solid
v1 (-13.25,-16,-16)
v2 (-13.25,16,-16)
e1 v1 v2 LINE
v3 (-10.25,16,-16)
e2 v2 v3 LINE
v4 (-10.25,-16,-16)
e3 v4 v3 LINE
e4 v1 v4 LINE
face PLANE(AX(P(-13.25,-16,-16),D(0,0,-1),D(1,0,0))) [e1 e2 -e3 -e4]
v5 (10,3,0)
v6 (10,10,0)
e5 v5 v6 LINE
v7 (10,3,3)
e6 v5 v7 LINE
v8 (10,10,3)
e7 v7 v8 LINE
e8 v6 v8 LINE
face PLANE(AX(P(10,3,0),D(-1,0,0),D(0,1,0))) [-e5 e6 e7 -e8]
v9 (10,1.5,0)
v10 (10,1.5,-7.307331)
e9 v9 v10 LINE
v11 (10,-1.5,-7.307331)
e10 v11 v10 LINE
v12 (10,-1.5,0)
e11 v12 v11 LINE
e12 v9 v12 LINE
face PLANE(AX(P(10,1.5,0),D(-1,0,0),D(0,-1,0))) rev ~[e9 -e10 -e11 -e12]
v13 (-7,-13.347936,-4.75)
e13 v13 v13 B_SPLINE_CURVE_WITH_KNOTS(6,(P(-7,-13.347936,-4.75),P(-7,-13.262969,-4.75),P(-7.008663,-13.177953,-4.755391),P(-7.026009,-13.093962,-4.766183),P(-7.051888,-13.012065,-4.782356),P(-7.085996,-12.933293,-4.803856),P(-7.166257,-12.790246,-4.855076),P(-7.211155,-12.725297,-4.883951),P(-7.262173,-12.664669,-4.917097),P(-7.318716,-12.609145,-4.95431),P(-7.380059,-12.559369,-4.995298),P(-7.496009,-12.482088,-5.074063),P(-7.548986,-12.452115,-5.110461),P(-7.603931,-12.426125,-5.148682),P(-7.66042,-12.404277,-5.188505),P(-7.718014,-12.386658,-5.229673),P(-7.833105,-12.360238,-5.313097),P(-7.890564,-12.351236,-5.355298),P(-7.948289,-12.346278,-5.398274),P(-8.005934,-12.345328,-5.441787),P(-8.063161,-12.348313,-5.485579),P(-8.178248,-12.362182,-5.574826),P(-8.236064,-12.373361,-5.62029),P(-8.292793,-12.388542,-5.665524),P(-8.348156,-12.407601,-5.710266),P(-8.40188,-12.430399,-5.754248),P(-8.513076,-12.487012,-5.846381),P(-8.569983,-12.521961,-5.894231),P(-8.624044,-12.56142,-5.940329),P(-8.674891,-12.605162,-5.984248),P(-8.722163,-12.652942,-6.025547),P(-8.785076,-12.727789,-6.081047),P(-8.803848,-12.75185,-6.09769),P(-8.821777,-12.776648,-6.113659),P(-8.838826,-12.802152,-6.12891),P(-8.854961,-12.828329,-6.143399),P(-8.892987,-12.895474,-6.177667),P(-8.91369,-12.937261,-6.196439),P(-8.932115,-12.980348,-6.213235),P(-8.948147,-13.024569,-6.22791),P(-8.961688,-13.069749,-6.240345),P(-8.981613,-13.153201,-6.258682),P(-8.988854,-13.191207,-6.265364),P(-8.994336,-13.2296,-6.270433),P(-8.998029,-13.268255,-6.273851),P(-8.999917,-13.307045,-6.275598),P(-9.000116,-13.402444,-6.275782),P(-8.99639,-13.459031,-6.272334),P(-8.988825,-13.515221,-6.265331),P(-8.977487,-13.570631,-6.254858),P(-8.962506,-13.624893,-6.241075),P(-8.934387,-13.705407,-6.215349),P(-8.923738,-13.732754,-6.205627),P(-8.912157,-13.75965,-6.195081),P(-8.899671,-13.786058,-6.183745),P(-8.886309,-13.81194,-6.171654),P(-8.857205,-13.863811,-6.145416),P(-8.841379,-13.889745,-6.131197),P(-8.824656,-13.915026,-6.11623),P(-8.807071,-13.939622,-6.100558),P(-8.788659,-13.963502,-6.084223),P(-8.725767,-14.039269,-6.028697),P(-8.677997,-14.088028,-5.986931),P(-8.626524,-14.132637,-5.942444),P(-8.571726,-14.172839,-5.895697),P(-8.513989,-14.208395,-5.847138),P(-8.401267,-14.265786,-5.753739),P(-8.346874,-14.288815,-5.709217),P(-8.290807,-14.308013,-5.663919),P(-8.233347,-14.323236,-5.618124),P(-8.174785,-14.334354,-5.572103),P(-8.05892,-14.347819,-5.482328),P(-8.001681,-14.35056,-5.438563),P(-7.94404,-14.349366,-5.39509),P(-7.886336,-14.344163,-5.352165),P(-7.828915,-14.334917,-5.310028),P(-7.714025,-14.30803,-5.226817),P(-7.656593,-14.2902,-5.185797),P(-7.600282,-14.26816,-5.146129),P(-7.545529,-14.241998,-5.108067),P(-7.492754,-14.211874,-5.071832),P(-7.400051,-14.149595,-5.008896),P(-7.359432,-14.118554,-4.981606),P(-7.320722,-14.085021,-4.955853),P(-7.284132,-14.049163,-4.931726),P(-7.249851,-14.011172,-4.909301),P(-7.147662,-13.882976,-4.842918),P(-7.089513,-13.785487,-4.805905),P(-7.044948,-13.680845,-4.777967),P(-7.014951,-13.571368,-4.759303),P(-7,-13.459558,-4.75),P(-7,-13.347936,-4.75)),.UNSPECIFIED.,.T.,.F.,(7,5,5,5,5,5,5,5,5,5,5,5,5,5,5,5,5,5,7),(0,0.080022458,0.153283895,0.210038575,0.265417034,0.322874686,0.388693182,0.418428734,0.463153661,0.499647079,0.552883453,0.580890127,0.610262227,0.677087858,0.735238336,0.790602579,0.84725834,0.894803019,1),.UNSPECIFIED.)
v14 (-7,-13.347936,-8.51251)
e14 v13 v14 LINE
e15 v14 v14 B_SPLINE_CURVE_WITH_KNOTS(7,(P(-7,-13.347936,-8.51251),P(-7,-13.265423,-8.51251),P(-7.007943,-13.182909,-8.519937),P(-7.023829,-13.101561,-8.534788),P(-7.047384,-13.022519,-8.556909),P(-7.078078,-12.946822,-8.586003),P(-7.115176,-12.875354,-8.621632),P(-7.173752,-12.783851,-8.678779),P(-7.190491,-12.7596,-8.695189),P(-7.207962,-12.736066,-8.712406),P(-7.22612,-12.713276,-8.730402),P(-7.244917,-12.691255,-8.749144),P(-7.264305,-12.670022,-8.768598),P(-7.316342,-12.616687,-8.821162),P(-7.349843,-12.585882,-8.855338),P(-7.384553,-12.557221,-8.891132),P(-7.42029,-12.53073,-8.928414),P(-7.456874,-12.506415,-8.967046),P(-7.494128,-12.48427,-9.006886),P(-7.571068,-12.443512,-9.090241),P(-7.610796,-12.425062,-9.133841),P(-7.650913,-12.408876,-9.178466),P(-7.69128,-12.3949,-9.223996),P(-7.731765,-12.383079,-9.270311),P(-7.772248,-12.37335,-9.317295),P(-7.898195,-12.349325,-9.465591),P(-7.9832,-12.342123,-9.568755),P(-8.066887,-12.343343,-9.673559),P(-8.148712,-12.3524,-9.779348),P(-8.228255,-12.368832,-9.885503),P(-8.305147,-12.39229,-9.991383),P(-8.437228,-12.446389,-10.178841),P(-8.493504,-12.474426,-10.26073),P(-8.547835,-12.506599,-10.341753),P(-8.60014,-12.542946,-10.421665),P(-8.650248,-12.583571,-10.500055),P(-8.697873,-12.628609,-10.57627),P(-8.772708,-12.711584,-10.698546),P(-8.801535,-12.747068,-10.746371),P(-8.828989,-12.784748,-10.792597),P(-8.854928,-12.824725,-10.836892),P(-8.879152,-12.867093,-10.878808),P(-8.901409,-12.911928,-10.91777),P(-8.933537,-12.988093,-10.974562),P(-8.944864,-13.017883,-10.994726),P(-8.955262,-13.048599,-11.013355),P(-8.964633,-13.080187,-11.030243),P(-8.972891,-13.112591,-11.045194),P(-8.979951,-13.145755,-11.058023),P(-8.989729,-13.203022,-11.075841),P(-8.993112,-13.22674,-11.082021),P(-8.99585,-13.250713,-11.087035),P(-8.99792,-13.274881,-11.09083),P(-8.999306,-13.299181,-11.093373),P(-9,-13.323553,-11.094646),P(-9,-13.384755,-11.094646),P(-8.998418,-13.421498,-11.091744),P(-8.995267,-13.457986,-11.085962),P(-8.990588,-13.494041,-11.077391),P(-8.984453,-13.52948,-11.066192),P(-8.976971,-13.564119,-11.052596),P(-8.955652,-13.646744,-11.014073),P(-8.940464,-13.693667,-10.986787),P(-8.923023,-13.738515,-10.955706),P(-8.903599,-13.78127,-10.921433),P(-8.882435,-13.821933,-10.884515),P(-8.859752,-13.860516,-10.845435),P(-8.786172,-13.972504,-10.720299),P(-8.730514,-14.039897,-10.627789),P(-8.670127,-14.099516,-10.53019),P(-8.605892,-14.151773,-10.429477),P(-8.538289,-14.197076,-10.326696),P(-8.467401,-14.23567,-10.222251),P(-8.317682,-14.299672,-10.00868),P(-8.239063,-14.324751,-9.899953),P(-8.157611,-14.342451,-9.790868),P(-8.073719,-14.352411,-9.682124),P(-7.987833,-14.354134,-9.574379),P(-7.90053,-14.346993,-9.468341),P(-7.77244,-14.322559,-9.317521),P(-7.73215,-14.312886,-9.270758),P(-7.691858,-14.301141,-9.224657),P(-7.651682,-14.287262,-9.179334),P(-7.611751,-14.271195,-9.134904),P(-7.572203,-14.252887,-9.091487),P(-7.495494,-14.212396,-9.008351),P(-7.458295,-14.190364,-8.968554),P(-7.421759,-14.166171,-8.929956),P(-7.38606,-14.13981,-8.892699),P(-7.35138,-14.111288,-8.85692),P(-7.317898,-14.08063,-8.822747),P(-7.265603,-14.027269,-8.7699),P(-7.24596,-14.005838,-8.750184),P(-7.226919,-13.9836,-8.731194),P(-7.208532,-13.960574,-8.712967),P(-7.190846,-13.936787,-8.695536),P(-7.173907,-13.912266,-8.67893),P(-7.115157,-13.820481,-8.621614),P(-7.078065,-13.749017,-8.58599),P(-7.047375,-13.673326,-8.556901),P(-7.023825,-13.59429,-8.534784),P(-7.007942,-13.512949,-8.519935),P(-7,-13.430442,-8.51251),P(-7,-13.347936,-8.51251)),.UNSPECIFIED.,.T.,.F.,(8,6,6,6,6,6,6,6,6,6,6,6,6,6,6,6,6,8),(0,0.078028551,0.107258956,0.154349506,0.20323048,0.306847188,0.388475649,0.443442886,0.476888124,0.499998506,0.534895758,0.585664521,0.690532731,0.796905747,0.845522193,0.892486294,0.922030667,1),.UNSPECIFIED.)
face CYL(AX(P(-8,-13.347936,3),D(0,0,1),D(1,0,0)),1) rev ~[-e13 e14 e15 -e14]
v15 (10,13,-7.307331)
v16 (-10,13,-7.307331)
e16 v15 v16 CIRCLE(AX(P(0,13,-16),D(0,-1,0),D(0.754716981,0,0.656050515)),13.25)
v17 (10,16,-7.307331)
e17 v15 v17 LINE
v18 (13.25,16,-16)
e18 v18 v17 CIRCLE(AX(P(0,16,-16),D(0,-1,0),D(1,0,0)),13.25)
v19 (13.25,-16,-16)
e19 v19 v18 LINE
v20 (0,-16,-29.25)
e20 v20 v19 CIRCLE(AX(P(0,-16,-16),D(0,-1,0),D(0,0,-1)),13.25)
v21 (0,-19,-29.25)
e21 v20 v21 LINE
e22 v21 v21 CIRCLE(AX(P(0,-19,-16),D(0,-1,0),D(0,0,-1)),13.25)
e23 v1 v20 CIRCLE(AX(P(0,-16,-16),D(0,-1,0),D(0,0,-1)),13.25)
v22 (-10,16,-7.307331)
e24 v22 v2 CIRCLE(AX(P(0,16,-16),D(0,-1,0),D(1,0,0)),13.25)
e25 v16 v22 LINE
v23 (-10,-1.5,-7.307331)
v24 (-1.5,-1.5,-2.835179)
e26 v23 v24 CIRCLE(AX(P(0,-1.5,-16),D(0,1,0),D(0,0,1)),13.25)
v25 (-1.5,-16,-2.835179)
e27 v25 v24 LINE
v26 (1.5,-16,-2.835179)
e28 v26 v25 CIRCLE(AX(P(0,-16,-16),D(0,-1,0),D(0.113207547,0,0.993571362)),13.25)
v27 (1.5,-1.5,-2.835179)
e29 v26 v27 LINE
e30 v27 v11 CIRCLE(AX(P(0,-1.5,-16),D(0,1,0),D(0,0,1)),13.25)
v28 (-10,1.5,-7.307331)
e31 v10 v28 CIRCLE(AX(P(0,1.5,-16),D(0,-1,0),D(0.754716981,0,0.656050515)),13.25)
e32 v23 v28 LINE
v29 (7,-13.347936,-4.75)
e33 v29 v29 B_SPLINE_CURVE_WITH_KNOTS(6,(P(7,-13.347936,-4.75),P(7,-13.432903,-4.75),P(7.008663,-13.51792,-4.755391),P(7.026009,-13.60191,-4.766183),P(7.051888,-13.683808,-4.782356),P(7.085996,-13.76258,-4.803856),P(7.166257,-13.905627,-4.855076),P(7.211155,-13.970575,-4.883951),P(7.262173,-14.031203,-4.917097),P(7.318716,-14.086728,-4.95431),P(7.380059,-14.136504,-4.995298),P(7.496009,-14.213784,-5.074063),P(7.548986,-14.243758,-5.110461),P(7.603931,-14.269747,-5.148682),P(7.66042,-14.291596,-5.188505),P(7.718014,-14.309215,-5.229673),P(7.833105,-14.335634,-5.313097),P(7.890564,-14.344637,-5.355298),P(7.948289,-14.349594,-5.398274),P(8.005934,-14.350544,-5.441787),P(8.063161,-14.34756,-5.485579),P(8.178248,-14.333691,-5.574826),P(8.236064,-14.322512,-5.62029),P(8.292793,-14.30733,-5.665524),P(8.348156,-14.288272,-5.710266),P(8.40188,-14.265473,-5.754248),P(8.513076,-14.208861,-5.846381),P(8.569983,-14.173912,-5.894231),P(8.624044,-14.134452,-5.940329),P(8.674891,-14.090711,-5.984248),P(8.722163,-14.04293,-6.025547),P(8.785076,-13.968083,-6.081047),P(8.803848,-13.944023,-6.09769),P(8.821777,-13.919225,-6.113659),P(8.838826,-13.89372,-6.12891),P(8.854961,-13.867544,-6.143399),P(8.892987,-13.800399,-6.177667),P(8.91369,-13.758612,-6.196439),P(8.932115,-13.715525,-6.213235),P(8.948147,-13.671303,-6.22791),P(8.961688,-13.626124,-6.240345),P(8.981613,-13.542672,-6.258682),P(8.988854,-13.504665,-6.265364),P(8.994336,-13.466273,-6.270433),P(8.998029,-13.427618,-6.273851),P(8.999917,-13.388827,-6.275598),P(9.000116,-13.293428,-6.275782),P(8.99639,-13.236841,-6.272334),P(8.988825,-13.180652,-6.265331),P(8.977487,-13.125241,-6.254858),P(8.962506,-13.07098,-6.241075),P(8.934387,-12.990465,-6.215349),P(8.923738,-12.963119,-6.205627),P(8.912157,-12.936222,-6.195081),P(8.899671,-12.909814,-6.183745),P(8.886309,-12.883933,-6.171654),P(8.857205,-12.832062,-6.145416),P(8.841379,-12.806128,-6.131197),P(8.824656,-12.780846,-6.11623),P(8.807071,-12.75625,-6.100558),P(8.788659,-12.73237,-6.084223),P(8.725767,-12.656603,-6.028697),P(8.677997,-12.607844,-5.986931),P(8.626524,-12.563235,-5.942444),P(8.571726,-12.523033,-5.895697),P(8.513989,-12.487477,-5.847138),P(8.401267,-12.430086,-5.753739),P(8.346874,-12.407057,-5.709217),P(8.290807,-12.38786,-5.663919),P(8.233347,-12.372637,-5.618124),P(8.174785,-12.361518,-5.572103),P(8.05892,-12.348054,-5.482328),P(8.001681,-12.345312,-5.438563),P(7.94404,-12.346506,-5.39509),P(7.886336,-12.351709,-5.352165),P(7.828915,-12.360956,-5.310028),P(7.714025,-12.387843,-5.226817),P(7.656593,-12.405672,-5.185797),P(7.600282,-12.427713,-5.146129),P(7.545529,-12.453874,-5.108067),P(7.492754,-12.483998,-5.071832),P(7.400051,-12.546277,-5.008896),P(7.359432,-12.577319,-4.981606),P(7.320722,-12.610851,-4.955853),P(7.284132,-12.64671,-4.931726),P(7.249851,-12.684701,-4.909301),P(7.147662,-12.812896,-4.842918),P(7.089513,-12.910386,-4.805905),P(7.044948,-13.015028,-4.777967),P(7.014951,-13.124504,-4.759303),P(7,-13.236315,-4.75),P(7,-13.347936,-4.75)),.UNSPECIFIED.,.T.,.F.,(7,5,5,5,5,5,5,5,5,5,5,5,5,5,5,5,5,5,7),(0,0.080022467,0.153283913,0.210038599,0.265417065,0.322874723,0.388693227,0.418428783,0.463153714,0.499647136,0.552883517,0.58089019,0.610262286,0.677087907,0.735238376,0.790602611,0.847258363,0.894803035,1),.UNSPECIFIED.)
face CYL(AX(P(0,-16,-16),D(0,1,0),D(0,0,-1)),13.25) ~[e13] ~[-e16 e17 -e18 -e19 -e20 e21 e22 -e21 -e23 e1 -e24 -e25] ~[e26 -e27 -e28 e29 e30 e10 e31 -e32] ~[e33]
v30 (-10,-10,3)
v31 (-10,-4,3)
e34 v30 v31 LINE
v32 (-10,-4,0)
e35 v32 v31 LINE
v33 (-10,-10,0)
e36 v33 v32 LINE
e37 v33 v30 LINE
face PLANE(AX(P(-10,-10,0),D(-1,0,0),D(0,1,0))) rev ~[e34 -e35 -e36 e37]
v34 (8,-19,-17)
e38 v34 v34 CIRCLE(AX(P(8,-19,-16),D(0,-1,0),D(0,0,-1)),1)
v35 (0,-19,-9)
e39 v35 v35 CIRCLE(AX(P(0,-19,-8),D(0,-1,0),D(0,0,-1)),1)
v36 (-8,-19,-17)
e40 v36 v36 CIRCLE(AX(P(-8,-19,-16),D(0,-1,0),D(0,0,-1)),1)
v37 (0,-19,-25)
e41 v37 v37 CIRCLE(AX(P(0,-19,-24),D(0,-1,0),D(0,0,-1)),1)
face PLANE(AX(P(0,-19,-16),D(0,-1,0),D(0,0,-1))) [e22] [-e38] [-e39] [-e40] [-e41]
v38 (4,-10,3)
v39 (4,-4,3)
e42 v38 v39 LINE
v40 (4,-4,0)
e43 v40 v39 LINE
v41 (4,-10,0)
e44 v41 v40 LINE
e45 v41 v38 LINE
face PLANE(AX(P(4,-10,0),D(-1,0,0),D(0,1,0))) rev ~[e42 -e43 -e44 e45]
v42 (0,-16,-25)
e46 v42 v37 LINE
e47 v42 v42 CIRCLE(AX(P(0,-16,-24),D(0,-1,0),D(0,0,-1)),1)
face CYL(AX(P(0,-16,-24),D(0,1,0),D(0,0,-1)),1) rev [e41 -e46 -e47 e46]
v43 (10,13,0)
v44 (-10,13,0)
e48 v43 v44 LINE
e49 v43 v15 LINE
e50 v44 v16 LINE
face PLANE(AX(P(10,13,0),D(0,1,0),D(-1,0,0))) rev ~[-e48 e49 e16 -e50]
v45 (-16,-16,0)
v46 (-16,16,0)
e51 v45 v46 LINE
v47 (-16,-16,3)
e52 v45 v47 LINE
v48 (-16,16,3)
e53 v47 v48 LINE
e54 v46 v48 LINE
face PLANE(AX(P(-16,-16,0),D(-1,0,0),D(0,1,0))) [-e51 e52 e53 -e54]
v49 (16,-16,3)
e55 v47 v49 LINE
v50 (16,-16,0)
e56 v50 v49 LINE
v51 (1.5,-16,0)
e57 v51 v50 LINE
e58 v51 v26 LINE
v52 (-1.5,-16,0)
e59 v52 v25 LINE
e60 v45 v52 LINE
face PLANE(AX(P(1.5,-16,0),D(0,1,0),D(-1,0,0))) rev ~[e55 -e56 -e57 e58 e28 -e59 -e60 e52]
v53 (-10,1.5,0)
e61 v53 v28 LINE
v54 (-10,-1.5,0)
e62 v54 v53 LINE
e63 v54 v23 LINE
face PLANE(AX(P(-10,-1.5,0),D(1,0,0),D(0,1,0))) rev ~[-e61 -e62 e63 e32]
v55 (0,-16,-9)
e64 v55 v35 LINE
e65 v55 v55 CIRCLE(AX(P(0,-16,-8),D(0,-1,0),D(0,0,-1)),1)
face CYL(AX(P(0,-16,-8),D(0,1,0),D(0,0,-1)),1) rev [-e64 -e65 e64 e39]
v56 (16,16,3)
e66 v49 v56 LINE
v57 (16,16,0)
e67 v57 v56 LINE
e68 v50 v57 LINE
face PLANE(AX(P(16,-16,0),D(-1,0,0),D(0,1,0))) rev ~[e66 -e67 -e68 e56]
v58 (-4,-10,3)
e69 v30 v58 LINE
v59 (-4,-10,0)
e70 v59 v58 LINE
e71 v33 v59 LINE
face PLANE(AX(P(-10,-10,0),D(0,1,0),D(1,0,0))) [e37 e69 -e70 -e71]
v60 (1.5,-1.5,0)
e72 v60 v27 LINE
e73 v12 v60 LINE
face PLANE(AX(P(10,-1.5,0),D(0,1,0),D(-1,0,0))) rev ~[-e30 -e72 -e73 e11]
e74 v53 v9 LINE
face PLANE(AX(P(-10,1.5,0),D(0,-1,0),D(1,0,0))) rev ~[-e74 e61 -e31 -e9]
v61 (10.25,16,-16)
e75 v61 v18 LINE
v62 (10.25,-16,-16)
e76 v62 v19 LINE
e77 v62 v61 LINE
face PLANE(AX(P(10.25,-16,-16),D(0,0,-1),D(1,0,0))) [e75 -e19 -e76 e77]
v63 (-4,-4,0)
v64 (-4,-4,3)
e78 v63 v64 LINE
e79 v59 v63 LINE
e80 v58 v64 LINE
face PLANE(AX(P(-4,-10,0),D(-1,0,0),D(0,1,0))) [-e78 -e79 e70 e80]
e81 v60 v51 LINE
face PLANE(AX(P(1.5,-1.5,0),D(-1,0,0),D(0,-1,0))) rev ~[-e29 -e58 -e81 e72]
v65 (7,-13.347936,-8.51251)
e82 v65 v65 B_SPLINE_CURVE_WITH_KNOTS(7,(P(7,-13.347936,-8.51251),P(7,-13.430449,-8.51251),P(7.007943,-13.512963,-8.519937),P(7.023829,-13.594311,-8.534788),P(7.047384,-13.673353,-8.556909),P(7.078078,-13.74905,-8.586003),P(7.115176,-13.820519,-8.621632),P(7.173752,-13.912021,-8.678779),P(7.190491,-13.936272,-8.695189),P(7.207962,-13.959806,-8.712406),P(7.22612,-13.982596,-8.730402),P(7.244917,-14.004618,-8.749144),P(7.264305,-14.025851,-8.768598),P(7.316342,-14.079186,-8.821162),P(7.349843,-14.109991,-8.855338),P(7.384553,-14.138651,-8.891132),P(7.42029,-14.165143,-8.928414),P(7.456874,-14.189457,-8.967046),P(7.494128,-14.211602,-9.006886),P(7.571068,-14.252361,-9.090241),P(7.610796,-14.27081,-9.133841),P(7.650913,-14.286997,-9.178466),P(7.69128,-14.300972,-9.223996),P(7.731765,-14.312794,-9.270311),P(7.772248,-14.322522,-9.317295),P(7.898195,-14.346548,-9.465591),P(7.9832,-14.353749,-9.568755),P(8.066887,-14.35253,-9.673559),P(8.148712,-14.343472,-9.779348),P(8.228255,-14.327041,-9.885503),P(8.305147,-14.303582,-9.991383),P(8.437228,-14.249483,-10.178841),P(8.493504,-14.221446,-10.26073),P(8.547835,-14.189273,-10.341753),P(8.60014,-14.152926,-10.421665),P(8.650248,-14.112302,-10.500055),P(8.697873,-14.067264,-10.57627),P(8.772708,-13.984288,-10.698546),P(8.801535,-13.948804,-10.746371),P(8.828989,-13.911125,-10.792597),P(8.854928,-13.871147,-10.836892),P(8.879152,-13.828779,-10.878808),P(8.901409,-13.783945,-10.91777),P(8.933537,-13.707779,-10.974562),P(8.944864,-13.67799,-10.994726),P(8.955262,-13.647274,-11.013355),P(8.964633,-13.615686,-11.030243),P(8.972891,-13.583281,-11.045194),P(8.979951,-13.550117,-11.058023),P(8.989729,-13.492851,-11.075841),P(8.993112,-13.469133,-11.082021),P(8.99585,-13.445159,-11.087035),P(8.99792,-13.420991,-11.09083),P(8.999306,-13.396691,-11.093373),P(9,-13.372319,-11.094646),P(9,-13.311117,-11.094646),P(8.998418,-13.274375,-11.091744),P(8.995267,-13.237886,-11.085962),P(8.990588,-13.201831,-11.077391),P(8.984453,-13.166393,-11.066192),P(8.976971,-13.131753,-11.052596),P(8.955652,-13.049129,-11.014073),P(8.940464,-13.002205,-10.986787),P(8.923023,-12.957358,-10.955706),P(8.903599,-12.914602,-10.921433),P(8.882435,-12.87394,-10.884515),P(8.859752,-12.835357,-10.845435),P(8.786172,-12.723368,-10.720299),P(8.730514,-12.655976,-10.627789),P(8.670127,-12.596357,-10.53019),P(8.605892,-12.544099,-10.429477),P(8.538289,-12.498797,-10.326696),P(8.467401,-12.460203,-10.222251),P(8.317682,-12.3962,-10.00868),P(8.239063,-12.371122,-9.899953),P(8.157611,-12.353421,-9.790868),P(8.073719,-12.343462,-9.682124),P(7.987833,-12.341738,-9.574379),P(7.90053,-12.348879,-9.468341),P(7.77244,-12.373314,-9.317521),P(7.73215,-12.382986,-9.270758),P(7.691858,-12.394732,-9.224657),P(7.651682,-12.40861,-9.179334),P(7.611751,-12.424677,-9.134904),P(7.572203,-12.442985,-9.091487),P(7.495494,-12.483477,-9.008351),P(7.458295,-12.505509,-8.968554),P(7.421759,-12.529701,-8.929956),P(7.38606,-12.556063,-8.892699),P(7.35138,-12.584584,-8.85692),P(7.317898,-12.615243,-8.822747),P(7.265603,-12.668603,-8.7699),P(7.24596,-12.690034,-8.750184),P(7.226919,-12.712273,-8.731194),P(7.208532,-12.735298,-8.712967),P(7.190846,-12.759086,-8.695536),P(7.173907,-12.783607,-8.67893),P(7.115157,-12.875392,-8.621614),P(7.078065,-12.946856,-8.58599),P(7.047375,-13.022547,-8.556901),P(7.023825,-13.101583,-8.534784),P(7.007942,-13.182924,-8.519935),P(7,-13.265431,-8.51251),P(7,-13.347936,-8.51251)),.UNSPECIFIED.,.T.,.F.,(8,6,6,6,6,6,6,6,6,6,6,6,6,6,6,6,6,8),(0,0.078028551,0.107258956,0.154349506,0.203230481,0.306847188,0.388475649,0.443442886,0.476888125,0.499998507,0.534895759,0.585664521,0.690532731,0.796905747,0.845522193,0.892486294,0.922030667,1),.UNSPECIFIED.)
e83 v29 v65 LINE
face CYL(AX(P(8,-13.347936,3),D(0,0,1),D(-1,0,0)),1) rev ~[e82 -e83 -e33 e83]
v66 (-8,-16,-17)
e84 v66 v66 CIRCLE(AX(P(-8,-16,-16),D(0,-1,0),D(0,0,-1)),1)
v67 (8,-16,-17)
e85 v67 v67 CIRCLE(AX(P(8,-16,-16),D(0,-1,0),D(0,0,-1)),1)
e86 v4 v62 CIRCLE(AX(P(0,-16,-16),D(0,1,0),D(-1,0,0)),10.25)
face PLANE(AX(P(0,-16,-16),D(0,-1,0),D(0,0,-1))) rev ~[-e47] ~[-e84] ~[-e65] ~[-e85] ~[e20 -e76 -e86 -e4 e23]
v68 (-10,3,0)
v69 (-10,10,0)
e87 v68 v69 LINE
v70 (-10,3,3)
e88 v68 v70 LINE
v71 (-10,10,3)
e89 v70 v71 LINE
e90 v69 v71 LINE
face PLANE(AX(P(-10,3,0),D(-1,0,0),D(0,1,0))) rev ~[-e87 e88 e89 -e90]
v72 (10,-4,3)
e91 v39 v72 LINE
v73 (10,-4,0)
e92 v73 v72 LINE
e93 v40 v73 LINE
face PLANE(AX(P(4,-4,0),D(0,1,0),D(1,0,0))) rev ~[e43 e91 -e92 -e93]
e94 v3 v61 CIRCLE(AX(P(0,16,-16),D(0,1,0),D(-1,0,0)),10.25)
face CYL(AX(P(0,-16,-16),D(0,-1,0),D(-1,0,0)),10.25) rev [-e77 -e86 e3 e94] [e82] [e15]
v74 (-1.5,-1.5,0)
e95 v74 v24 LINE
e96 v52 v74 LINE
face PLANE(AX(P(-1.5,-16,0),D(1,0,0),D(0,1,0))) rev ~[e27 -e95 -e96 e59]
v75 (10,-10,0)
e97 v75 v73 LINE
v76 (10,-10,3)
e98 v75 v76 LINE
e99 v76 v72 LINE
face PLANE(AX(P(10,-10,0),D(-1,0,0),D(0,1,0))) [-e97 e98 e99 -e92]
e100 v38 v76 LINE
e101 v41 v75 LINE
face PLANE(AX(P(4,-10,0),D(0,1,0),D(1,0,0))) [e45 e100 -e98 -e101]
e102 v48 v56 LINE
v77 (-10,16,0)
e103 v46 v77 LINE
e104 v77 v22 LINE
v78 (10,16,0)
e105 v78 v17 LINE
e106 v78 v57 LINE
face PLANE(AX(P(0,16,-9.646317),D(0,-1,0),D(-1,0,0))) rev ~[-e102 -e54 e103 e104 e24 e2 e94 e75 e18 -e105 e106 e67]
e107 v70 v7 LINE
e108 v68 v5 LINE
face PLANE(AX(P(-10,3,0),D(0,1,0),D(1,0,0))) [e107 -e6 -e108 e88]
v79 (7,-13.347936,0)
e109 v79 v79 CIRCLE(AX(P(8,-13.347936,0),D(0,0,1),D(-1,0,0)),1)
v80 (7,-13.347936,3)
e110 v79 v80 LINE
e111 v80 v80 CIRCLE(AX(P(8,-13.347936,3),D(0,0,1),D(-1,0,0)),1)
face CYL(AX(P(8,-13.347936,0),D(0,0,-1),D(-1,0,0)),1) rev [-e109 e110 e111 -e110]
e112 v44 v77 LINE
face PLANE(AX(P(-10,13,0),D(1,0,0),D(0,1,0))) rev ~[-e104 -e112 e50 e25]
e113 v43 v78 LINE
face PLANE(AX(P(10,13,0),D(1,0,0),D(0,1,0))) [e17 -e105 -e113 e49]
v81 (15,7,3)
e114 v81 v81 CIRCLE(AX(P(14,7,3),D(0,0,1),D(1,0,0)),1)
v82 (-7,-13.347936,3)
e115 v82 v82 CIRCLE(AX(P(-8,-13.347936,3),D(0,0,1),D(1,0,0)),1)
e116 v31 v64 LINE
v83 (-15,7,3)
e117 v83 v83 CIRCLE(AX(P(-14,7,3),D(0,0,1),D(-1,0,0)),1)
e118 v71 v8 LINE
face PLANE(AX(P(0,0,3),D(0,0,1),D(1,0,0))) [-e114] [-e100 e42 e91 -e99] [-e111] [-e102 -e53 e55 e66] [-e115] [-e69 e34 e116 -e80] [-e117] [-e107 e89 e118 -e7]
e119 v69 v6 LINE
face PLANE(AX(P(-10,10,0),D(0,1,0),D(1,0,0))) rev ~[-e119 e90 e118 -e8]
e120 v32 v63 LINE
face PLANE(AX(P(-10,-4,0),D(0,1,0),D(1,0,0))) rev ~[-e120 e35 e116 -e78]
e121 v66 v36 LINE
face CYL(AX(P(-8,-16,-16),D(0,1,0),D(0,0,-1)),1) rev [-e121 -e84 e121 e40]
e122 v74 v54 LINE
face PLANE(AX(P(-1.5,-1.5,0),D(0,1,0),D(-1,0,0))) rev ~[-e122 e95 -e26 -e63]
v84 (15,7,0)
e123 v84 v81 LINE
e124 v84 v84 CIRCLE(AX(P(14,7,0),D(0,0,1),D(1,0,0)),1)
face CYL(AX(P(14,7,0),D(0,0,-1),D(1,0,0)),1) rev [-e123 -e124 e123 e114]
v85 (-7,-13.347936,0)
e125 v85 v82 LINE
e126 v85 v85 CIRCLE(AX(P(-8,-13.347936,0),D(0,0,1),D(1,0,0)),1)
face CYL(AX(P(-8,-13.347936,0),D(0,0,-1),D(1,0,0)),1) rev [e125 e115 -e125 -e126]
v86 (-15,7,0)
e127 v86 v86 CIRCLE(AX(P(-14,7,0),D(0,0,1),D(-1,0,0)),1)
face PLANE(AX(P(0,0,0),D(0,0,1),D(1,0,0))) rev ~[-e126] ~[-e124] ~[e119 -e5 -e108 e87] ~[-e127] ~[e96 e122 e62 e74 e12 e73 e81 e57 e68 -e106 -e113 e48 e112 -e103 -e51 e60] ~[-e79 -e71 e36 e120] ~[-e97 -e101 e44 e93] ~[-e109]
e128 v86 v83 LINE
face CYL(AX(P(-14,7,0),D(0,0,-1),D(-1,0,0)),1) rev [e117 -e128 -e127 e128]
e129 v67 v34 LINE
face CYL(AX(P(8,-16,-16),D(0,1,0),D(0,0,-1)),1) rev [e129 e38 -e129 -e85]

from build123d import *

# Parameters (mm, degrees)
SKETCH1_W                = 32
SKETCH1_H                = 32
SKETCH1_R                = 1
SKETCH1_W_2              = 20
SKETCH1_H_2              = 7
SKETCH1_W_3              = 6
SKETCH1_H_3              = 6
BOSS_EXTRUDE1_DEPTH      = 3
SKETCH2_R                = 13.25
SKETCH2_R_2              = 1
BOSS_EXTRUDE2_DEPTH      = 3
BOSS_EXTRUDE3_DEPTH      = 32
BOSS_EXTRUDE4_REACH      = 40.374
BOSS_EXTRUDE4_END_RADIUS = 13.25
SKETCH4_W                = 20
SKETCH4_H                = 3
SKETCH6_R                = 1
CUT_EXTRUDE1_DEPTH       = 41.707032562


with BuildPart() as part:
    # Sketch1 → Boss-Extrude1 (new body)
    with BuildSketch(Plane.XY):
        Rectangle(SKETCH1_W, SKETCH1_H)
        with Locations((14, 7)):
            Circle(SKETCH1_R, mode=Mode.SUBTRACT)
        with Locations(Location((-14, 7, 0), (0, 0, 180))):
            Circle(SKETCH1_R, mode=Mode.SUBTRACT)
        with Locations((-8, -13.347936253)):
            Circle(SKETCH1_R, mode=Mode.SUBTRACT)
        with Locations(Location((8, -13.347936253, 0), (0, 0, 180))):
            Circle(SKETCH1_R, mode=Mode.SUBTRACT)
        with Locations((0, 6.5)):
            Rectangle(SKETCH1_W_2, SKETCH1_H_2, mode=Mode.SUBTRACT)
        with Locations((-7, -7)):
            Rectangle(SKETCH1_W_3, SKETCH1_H_3, mode=Mode.SUBTRACT)
        with Locations((7, -7)):
            Rectangle(SKETCH1_W_3, SKETCH1_H_3, mode=Mode.SUBTRACT)
    extrude(amount=BOSS_EXTRUDE1_DEPTH)



with BuildPart() as body_2:
    # Sketch2 → Boss-Extrude2 (new body)
    with BuildSketch(Plane.XZ.offset(16)):
        with Locations(Location((0, -16, 0), (0, 0, 270))):
            Circle(SKETCH2_R)
        with Locations(Location((-8, -16, 0), (0, 0, 270))):
            Circle(SKETCH2_R_2, mode=Mode.SUBTRACT)
        with Locations(Location((0, -8, 0), (0, 0, 270))):
            Circle(SKETCH2_R_2, mode=Mode.SUBTRACT)
        with Locations(Location((8, -16, 0), (0, 0, 270))):
            Circle(SKETCH2_R_2, mode=Mode.SUBTRACT)
        with Locations(Location((0, -24, 0), (0, 0, 270))):
            Circle(SKETCH2_R_2, mode=Mode.SUBTRACT)
    extrude(amount=BOSS_EXTRUDE2_DEPTH)

    # Sketch3 → Boss-Extrude3 (add)
    with BuildSketch(Plane(origin=(0, -16, 0), x_dir=(1, 0, 0), z_dir=(0, 1, 0))):
        with BuildLine():
            Line((-13.25, 16), (-10.25, 16))
            ThreePointArc((-10.25, 16), (0, 5.75), (10.25, 16))
            Line((10.25, 16), (13.25, 16))
            ThreePointArc((13.25, 16), (0, 2.75), (-13.25, 16))
        make_face()
    extrude(amount=BOSS_EXTRUDE3_DEPTH)


with BuildPart() as part_1:
    add(part.part)

    add(body_2.part)  # Boss-Extrude4 merges body 2
    # Boss-Extrude4: up to this cylinder (the profile starts outside it)
    boss_extrude4_end = Plane(origin=(0, 5.411232, -16), z_dir=(0, 1, 0)) * Cylinder(BOSS_EXTRUDE4_END_RADIUS, 126.425536, mode=Mode.PRIVATE)
    # Sketch4 → Boss-Extrude4 (add, up to the surface)
    with BuildSketch(Plane(origin=(0, 0, 0), x_dir=(-1, 0, 0), z_dir=(0, 0, -1)), mode=Mode.PRIVATE) as boss_extrude4_sk1:
        with Locations((0, 14.5)):
            Rectangle(SKETCH4_W, SKETCH4_H)
    boss_extrude4_tool1 = extrude(boss_extrude4_sk1.sketch, amount=BOSS_EXTRUDE4_REACH, mode=Mode.PRIVATE) - boss_extrude4_end
    add(boss_extrude4_tool1.solids().sort_by_distance((0, 14.5, 0))[0])
    # Sketch4 → Boss-Extrude4 (add, up to the surface)
    with BuildSketch(Plane(origin=(0, 0, 0), x_dir=(-1, 0, 0), z_dir=(0, 0, -1)), mode=Mode.PRIVATE) as boss_extrude4_sk2:
        Polygon((10, 1.5), (-10, 1.5), (-10, -1.5), (-1.5, -1.5), (-1.5, -16), (1.5, -16), (1.5, -1.5), (10, -1.5), align=None)
    boss_extrude4_tool2 = extrude(boss_extrude4_sk2.sketch, amount=BOSS_EXTRUDE4_REACH, mode=Mode.PRIVATE) - boss_extrude4_end
    add(boss_extrude4_tool2.solids().sort_by_distance((0, -3.677536, 0))[0])

    # Sketch6 → Cut-Extrude1 (cut, through all)
    with BuildSketch(Plane.XY.offset(3)):
        with Locations(Location((8, -13.347936253, 0), (0, 0, 180))):
            Circle(SKETCH6_R)
        with Locations((-8, -13.347936253)):
            Circle(SKETCH6_R)
    extrude(amount=-CUT_EXTRUDE1_DEPTH, mode=Mode.SUBTRACT)


solid = part_1.part
